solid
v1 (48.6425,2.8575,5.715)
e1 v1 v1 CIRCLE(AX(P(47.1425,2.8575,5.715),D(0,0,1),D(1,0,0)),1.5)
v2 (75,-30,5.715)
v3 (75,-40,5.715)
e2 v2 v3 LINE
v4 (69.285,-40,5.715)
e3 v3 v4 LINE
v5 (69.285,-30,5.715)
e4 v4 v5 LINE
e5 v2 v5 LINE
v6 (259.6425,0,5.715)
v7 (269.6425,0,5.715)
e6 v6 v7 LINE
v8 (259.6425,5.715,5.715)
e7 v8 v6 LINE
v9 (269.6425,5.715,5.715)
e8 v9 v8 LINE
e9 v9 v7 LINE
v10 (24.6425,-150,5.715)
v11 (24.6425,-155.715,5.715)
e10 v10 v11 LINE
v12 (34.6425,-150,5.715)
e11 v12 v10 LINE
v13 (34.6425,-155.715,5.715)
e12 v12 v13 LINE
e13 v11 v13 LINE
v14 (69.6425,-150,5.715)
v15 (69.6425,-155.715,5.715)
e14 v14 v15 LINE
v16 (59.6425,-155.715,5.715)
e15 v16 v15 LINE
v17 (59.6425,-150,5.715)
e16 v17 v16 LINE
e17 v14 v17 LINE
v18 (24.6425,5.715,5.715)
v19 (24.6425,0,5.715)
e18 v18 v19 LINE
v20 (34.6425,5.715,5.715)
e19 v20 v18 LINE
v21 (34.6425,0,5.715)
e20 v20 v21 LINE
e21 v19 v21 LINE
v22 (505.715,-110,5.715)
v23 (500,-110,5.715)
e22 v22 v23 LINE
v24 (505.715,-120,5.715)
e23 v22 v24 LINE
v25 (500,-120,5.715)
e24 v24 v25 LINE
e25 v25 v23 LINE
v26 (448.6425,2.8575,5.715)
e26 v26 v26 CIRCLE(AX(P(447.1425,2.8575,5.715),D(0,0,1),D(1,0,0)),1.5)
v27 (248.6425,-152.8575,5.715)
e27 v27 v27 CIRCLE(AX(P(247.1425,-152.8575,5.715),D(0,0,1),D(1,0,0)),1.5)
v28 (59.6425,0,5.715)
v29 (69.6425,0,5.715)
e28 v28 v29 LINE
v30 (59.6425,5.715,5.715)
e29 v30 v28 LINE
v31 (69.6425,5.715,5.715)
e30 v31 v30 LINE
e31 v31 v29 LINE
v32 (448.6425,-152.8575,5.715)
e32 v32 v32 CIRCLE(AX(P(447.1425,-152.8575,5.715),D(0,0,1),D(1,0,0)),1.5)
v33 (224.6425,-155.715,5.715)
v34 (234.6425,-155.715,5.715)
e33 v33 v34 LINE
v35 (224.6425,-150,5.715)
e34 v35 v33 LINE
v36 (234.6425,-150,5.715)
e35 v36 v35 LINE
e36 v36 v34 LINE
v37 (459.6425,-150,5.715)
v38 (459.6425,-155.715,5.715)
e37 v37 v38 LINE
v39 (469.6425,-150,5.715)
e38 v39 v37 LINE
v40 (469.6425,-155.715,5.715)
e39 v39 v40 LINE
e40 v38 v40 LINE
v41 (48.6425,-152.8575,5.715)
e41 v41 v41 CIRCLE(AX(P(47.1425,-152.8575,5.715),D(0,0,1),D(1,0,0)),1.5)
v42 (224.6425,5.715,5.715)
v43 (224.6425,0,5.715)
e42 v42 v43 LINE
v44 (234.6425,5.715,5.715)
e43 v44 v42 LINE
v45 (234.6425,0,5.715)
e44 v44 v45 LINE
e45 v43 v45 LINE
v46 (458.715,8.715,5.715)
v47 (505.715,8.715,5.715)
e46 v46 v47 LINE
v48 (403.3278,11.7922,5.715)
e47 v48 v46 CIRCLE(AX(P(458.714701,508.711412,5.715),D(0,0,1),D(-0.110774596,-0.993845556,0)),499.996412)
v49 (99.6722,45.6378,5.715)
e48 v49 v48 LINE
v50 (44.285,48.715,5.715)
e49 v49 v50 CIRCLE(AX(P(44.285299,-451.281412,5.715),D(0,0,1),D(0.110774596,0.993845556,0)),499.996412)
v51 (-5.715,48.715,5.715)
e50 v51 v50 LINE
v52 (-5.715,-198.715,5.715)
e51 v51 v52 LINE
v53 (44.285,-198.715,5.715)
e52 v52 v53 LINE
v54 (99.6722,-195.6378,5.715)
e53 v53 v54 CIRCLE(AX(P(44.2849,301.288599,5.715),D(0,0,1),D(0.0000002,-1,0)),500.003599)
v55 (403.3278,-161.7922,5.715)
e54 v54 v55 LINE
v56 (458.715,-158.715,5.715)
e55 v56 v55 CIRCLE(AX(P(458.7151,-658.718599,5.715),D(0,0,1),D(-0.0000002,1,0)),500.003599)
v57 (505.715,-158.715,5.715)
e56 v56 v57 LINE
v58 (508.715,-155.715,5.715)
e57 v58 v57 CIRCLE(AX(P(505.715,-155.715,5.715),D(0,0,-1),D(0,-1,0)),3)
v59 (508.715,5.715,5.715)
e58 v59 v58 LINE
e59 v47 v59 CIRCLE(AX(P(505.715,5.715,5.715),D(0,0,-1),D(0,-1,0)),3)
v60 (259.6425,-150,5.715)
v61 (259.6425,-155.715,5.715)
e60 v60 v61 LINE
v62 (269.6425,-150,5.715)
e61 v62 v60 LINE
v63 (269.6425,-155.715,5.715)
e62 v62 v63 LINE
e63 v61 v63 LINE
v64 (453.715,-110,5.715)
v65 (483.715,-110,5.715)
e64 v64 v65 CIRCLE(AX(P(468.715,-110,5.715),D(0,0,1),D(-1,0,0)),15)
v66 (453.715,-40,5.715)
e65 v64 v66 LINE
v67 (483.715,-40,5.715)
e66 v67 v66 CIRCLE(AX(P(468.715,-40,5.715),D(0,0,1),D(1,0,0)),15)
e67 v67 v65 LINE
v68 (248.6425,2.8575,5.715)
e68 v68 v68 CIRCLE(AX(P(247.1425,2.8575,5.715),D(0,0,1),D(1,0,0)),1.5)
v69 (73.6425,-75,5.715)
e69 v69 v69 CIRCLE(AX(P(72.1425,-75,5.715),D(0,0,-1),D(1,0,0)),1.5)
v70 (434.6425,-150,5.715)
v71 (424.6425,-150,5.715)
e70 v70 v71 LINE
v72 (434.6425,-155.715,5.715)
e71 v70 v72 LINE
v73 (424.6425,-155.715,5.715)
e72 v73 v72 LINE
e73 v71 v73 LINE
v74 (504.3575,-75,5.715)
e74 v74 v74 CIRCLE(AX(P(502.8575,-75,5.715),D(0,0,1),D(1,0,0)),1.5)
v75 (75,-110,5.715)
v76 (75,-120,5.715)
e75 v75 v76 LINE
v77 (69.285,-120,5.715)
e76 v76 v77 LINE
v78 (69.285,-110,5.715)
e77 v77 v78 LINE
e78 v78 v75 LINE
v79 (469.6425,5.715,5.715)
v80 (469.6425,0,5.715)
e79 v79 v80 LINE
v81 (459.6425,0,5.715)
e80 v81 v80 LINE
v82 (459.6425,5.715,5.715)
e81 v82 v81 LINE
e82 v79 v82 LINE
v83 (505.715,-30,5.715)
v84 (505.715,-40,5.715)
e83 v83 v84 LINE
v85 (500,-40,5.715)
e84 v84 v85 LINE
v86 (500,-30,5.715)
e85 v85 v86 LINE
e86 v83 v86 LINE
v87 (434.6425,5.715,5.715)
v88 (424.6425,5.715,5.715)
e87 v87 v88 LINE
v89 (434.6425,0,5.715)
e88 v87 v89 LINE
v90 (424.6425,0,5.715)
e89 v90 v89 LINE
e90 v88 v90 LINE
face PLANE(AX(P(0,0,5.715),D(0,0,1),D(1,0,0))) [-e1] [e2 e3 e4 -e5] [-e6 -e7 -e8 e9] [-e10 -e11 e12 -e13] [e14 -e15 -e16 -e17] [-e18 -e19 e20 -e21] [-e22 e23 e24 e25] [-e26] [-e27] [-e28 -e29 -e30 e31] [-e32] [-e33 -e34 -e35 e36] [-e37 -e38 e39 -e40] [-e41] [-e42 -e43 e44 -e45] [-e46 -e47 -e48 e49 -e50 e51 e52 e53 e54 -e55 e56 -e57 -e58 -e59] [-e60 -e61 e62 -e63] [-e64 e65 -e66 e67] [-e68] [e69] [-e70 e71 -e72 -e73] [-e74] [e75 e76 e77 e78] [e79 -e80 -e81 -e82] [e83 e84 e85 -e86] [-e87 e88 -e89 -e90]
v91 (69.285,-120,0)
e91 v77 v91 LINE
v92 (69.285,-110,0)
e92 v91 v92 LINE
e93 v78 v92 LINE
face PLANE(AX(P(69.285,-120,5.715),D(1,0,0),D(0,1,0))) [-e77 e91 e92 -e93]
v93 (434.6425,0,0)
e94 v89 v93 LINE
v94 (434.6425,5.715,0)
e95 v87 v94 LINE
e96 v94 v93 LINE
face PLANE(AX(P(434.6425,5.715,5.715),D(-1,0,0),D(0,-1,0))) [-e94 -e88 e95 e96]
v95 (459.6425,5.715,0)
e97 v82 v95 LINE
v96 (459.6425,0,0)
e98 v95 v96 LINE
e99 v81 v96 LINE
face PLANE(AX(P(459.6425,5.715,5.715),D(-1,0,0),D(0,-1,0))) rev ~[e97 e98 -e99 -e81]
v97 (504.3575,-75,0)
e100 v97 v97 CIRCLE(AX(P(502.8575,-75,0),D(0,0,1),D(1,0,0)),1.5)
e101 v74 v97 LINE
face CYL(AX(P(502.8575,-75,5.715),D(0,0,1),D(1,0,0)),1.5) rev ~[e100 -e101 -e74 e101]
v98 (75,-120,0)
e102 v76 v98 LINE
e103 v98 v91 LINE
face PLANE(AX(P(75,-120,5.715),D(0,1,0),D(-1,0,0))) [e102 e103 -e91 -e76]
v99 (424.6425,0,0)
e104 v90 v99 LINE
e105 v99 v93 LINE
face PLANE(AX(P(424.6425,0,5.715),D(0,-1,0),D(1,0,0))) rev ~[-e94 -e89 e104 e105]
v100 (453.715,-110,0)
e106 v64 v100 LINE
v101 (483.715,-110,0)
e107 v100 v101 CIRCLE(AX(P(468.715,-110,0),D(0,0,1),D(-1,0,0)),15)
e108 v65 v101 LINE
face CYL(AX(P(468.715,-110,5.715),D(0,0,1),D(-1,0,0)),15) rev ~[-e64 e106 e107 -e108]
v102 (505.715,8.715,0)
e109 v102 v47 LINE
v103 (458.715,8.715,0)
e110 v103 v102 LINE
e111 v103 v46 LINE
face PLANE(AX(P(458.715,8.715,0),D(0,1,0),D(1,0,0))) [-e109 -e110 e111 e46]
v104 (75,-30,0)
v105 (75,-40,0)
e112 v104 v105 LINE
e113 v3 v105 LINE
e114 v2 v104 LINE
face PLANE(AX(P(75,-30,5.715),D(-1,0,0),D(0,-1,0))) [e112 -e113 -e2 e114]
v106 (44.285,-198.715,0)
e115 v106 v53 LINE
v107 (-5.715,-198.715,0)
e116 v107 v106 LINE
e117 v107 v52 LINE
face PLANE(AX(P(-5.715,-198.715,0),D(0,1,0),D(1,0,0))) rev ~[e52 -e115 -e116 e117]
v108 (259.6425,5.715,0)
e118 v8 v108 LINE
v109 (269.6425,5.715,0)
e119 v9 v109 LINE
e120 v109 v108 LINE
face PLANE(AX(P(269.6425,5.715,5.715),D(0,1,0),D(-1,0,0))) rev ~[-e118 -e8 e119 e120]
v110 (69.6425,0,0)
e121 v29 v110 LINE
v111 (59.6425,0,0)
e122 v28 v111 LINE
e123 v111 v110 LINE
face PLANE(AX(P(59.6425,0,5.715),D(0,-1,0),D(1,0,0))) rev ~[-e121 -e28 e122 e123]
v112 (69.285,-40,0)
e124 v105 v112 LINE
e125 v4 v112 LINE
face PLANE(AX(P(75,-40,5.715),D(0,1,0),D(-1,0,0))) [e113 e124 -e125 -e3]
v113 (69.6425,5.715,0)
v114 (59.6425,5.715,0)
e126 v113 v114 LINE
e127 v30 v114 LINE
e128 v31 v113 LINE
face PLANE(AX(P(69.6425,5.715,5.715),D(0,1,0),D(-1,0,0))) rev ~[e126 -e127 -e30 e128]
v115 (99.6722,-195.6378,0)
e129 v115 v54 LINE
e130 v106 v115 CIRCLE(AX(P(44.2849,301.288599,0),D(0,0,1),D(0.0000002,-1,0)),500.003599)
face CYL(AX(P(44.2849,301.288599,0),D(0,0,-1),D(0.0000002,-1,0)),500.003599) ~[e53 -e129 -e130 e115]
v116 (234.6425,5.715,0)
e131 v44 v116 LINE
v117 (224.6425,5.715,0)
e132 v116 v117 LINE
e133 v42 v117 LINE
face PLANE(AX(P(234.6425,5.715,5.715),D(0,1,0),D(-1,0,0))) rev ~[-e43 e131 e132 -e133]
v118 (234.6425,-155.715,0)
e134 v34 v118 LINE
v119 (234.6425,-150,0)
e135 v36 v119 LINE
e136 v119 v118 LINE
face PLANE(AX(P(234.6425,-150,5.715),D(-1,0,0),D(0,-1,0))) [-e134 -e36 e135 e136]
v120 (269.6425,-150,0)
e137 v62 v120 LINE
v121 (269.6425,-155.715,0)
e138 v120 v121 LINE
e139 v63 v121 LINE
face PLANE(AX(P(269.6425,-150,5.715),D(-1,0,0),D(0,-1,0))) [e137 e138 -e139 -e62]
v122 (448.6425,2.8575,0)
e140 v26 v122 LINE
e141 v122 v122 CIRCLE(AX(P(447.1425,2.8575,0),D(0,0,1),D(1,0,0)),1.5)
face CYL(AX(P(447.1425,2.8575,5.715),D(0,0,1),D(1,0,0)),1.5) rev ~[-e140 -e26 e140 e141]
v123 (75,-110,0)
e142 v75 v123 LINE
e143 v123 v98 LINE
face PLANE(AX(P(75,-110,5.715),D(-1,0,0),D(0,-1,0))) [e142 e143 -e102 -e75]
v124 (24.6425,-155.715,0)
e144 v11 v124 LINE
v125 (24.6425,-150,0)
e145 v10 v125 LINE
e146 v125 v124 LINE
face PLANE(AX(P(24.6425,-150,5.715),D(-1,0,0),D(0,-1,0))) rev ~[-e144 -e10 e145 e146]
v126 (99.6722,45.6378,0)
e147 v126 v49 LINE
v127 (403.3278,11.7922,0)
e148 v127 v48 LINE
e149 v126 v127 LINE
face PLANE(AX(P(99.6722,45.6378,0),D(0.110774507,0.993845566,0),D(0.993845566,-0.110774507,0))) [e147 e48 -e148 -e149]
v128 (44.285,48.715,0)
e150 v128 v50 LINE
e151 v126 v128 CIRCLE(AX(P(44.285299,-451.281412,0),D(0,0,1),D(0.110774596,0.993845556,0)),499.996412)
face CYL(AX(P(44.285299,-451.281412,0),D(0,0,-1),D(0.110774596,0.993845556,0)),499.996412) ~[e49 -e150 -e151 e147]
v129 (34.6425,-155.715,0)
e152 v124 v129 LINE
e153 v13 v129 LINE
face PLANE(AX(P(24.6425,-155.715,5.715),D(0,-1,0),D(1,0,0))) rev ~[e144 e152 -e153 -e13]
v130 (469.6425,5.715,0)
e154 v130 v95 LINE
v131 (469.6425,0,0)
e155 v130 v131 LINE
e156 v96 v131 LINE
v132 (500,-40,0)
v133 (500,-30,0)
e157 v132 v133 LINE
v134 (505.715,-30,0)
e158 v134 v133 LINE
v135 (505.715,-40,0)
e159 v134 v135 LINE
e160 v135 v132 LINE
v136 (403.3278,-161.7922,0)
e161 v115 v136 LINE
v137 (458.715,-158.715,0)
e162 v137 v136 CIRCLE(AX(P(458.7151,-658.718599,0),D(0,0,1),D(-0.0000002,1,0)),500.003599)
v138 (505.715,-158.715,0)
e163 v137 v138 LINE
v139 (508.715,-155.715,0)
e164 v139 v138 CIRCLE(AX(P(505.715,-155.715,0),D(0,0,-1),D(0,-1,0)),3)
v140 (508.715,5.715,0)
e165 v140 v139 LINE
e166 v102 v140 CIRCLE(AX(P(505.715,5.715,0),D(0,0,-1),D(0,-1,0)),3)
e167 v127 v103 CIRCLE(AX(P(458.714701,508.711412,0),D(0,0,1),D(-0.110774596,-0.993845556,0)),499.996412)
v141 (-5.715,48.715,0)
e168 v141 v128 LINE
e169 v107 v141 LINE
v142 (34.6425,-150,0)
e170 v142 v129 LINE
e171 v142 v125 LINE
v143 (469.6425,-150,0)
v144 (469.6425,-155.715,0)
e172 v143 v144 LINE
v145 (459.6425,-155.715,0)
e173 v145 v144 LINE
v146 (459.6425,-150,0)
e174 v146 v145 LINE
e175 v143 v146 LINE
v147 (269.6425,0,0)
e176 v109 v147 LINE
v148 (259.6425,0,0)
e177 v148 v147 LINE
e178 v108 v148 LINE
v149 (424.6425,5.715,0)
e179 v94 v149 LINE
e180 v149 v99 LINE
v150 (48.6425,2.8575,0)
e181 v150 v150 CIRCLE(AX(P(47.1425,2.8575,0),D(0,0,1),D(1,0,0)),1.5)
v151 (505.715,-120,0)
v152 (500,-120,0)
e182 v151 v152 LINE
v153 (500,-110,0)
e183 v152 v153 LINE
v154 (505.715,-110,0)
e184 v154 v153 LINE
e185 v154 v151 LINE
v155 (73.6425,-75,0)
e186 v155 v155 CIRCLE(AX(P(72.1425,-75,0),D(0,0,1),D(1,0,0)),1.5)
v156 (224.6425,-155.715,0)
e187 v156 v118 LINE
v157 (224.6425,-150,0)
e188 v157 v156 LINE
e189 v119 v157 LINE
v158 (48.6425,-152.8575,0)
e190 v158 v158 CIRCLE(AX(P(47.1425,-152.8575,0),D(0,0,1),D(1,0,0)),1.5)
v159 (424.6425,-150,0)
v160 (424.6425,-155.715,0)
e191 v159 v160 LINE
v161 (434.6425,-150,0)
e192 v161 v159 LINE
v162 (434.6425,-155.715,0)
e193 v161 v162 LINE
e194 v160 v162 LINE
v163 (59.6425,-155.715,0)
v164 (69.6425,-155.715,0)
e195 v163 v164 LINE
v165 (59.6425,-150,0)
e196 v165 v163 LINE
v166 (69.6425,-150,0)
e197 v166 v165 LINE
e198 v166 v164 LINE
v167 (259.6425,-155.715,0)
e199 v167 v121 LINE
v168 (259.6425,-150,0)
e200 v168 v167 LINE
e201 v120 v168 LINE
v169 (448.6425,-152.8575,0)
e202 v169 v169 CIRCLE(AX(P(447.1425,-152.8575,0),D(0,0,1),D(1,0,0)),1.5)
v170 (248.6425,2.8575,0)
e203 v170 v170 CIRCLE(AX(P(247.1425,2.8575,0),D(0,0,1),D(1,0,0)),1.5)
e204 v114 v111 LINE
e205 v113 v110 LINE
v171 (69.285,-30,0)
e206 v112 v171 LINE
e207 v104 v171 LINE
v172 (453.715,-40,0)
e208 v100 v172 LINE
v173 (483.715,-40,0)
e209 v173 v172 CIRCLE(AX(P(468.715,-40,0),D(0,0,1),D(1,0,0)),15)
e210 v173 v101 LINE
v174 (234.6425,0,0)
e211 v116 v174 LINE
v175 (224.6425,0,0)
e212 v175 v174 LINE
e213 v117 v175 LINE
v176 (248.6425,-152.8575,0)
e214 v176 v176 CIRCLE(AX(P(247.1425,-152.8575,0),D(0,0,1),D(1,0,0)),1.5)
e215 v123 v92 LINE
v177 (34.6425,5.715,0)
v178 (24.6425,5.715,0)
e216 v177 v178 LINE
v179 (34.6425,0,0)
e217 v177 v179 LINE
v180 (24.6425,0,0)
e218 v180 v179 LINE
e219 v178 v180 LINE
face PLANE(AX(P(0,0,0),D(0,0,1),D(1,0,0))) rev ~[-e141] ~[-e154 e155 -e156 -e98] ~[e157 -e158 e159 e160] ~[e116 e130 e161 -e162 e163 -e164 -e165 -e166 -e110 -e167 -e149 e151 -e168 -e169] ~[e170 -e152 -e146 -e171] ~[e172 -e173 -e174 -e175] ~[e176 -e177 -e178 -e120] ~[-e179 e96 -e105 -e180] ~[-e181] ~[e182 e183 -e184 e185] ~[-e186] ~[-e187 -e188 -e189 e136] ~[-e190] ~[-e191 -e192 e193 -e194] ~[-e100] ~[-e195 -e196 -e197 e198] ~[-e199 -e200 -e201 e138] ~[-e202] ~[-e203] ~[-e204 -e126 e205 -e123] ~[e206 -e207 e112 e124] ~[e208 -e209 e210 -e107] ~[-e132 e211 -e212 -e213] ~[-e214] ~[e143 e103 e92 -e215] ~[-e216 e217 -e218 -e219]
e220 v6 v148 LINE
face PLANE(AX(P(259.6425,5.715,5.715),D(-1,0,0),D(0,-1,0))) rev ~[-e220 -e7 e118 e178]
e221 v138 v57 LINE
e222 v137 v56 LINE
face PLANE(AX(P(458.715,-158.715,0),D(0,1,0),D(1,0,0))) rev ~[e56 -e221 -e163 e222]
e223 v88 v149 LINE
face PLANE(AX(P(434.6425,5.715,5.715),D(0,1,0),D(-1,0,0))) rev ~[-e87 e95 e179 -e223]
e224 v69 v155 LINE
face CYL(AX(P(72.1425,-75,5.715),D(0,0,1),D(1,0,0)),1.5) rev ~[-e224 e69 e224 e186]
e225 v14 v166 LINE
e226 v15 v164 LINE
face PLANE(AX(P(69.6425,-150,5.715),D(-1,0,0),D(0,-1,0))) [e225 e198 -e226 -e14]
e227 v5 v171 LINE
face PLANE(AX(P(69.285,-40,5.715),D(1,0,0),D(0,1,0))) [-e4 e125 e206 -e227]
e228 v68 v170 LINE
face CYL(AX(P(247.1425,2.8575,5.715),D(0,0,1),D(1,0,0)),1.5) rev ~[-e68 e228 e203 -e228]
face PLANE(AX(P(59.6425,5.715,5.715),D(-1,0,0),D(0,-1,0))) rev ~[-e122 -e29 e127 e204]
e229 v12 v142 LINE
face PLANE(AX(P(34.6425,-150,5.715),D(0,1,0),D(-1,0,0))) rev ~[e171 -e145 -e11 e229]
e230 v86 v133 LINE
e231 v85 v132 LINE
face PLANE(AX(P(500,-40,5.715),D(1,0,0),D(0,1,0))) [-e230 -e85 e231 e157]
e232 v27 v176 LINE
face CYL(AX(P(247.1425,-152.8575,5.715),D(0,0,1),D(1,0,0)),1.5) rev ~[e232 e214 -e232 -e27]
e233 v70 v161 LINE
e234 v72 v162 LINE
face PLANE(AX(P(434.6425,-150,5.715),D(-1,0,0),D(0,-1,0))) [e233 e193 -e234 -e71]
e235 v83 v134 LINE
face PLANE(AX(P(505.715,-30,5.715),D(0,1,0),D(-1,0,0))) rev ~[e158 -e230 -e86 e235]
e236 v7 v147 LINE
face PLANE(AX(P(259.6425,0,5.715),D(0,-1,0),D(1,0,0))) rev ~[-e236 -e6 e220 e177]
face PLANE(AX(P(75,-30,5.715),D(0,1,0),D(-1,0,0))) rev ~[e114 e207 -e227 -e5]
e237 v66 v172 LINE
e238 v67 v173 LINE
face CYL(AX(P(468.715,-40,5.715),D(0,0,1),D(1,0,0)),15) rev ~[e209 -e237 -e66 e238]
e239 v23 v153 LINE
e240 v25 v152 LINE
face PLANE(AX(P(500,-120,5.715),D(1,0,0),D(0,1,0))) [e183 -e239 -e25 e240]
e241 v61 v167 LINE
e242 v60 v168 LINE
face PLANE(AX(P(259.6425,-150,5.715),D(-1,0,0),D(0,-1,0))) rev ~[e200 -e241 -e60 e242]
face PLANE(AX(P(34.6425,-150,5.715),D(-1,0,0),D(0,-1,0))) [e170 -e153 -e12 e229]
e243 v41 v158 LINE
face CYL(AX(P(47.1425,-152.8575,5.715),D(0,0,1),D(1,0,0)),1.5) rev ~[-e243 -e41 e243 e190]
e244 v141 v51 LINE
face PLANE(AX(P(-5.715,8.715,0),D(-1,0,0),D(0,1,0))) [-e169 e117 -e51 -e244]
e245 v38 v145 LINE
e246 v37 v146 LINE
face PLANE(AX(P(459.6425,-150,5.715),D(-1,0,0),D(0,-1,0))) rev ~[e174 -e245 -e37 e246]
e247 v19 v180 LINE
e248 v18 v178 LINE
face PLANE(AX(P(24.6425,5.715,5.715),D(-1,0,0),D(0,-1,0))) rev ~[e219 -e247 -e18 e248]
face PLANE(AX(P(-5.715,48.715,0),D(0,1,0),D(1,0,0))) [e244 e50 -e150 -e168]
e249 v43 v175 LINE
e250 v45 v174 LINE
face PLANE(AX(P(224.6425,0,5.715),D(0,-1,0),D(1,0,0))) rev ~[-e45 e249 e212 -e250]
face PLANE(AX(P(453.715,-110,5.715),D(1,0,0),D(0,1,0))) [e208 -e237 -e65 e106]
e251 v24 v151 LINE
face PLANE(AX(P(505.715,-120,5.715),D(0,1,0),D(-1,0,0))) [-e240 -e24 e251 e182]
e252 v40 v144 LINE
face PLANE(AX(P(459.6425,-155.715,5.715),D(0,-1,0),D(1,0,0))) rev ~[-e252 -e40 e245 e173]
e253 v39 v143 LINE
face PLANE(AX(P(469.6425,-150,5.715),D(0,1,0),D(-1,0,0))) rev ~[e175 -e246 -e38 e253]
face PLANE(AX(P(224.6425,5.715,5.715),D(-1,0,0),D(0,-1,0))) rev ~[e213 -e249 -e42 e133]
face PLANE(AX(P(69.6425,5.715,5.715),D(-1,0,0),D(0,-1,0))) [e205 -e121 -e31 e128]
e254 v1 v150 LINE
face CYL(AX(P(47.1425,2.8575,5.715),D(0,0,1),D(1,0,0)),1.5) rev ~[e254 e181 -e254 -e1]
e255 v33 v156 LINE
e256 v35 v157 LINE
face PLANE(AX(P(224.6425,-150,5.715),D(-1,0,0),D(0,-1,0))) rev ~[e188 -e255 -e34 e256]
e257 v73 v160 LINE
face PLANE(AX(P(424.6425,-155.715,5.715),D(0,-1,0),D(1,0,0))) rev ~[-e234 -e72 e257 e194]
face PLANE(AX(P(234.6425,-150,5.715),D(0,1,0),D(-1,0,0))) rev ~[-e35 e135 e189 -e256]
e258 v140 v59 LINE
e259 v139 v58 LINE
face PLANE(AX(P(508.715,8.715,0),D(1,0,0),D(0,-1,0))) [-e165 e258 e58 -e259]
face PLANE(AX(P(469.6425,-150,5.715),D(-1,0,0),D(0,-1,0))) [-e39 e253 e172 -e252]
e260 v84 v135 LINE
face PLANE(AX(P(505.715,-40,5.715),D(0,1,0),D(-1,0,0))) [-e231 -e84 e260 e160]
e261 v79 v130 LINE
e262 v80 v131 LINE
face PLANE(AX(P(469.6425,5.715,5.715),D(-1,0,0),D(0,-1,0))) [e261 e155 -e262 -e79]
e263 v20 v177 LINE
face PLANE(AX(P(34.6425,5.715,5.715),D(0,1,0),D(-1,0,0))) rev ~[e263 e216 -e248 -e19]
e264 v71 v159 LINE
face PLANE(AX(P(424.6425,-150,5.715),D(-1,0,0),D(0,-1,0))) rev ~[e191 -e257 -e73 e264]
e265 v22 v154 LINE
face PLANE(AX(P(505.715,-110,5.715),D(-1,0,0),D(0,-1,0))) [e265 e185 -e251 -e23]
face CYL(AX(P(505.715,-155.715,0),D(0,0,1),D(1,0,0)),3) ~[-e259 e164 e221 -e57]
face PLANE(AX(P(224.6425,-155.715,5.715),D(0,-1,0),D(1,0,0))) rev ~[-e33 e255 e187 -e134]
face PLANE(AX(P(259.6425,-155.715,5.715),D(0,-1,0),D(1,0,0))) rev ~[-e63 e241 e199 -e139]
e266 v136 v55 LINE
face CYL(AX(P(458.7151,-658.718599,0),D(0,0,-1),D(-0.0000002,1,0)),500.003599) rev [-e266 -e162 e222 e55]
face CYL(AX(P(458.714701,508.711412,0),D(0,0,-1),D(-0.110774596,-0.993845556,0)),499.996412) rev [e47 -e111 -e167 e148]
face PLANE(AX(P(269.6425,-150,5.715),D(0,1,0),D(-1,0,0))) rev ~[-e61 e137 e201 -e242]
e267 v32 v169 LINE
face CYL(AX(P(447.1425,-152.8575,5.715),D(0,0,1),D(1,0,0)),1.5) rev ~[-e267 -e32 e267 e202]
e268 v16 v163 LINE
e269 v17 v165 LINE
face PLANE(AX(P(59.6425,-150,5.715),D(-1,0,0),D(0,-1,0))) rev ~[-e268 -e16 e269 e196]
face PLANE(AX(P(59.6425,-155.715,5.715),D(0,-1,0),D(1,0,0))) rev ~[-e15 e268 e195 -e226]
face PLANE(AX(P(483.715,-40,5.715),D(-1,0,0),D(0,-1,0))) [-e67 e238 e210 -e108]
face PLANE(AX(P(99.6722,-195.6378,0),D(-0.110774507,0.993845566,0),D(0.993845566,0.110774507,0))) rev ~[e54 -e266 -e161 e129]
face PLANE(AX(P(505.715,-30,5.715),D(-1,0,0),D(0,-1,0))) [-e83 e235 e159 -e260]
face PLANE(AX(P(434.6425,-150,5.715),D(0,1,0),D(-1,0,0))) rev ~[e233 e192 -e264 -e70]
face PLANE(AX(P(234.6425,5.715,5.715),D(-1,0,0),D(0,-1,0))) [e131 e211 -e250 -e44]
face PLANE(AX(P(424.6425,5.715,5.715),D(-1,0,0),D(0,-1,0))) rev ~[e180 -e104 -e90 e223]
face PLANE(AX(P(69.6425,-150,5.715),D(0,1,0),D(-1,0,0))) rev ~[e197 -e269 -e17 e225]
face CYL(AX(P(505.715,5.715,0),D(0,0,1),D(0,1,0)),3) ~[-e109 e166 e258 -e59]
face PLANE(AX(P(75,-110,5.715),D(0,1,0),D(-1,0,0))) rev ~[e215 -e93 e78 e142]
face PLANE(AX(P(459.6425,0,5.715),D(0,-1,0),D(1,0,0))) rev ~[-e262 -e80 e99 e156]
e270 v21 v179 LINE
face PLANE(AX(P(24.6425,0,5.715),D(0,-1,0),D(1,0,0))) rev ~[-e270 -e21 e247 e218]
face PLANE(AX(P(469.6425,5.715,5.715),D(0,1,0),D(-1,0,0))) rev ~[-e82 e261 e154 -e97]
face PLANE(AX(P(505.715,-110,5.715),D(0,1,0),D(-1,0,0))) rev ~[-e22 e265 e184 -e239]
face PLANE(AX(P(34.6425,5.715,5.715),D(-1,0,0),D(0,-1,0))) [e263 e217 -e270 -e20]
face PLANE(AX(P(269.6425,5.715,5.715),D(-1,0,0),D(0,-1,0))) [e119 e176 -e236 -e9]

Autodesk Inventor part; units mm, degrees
ref_plane "YZ Plane" through (0, 0, 0) normal (1, 0, 0) x (0, 1, 0)
ref_plane "XZ Plane" through (0, 0, 0) normal (0, 1, 0) x (-1, 0, 0)
ref_plane "XY Plane" through (0, 0, 0) normal (0, 0, 1) x (1, 0, 0)
sketch "Sketch1" plane through (0, 0, 0) normal (0, 0, 1) x (1, 0, 0)
  line L0 (508.715, -158.715) -> (-5.715, -158.715) construction
  line L1 (-5.715, -158.715) -> (-5.715, 8.715)
  line L2 (-5.715, 8.715) -> (508.715, 8.715) construction
  line L3 (508.715, 8.715) -> (508.715, -158.715)
  line L4 (-5.715, 8.715) -> (-5.715, 48.715)
  line L5 (-5.715, 48.715) -> (44.285, 48.715)
  arc A0 (99.6722, 45.6378) -> (44.285, 48.715) centre (44.285, -451.285) ccw
  line L6 (99.6722, 45.6378) -> (403.3278, 11.7922)
  arc A1 (403.3278, 11.7922) -> (458.715, 8.715) centre (458.715, 508.715) ccw
  line L7 (458.715, 8.715) -> (508.715, 8.715)
  line L8 (-5.715, -158.715) -> (-5.715, -198.715)
  line L9 (-5.715, -198.715) -> (44.285, -198.715)
  arc A2 (44.285, -198.715) -> (99.6722, -195.6378) centre (44.285, 301.285) ccw
  line L10 (99.6722, -195.6378) -> (403.3278, -161.7922)
  arc A3 (458.715, -158.715) -> (403.3278, -161.7922) centre (458.715, -658.715) ccw
  line L11 (458.715, -158.715) -> (508.715, -158.715)
  point P0 (0, 0)
  point P1 (0, 5.715)
  point P2 (505.715, -158.715)
  point P3 (505.715, 8.715)
  point P4 (-5.715, 5.715)
  dimension "d0" = 3
  dimension "d2" = 500
  dimension "d3" = 50
  dimension "d4" = 40
extrude "Extrusion1" add sketch "Sketch1" along normal blind 5.715
fillet "Fillet1" radius 3 2 edges at (508.715, 8.715, 2.8575) (508.715, -158.715, 2.8575)
sketch "Sketch2" plane through (0, 0, 5.715) normal (0, 0, 1) x (1, 0, 0)
  line L0 (24.6425, 0) -> (34.6425, 0) projected
  line L1 (34.6425, 5.715) -> (34.6425, 0) projected
  line L2 (34.6425, 5.715) -> (24.6425, 5.715) projected
  line L3 (24.6425, 5.715) -> (24.6425, 0) projected
  line L4 (59.6425, 0) -> (69.6425, 0) projected
  line L5 (69.6425, 5.715) -> (69.6425, 0) projected
  line L6 (69.6425, 5.715) -> (59.6425, 5.715) projected
  line L7 (59.6425, 5.715) -> (59.6425, 0) projected
  line L8 (224.6425, 0) -> (234.6425, 0) projected
  line L9 (234.6425, 5.715) -> (234.6425, 0) projected
  line L10 (234.6425, 5.715) -> (224.6425, 5.715) projected
  line L11 (224.6425, 5.715) -> (224.6425, 0) projected
  line L12 (259.6425, 0) -> (269.6425, 0) projected
  line L13 (269.6425, 5.715) -> (269.6425, 0) projected
  line L14 (269.6425, 5.715) -> (259.6425, 5.715) projected
  line L15 (259.6425, 5.715) -> (259.6425, 0) projected
  line L16 (424.6425, 0) -> (434.6425, 0) projected
  line L17 (434.6425, 5.715) -> (434.6425, 0) projected
  line L18 (434.6425, 5.715) -> (424.6425, 5.715) projected
  line L19 (424.6425, 5.715) -> (424.6425, 0) projected
  line L20 (459.6425, 0) -> (469.6425, 0) projected
  line L21 (469.6425, 5.715) -> (469.6425, 0) projected
  line L22 (469.6425, 5.715) -> (459.6425, 5.715) projected
  line L23 (459.6425, 5.715) -> (459.6425, 0) projected
  line L24 (500, -40) -> (500, -30) projected
  line L25 (505.715, -40) -> (500, -40) projected
  line L26 (505.715, -30) -> (505.715, -40) projected
  line L27 (505.715, -30) -> (500, -30) projected
  line L28 (500, -120) -> (500, -110) projected
  line L29 (505.715, -120) -> (500, -120) projected
  line L30 (505.715, -110) -> (505.715, -120) projected
  line L31 (505.715, -110) -> (500, -110) projected
  line L32 (459.6425, -155.715) -> (469.6425, -155.715) projected
  line L33 (469.6425, -150) -> (469.6425, -155.715) projected
  line L34 (469.6425, -150) -> (459.6425, -150) projected
  line L35 (459.6425, -150) -> (459.6425, -155.715) projected
  line L36 (424.6425, -155.715) -> (434.6425, -155.715) projected
  line L37 (434.6425, -150) -> (434.6425, -155.715) projected
  line L38 (434.6425, -150) -> (424.6425, -150) projected
  line L39 (424.6425, -150) -> (424.6425, -155.715) projected
  line L40 (259.6425, -155.715) -> (269.6425, -155.715) projected
  line L41 (269.6425, -150) -> (269.6425, -155.715) projected
  line L42 (269.6425, -150) -> (259.6425, -150) projected
  line L43 (259.6425, -150) -> (259.6425, -155.715) projected
  line L44 (224.6425, -155.715) -> (234.6425, -155.715) projected
  line L45 (234.6425, -150) -> (234.6425, -155.715) projected
  line L46 (234.6425, -150) -> (224.6425, -150) projected
  line L47 (224.6425, -150) -> (224.6425, -155.715) projected
  line L48 (59.6425, -155.715) -> (69.6425, -155.715) projected
  line L49 (69.6425, -150) -> (69.6425, -155.715) projected
  line L50 (69.6425, -150) -> (59.6425, -150) projected
  line L51 (59.6425, -150) -> (59.6425, -155.715) projected
  line L52 (24.6425, -155.715) -> (34.6425, -155.715) projected
  line L53 (34.6425, -150) -> (34.6425, -155.715) projected
  line L54 (34.6425, -150) -> (24.6425, -150) projected
  line L55 (24.6425, -150) -> (24.6425, -155.715) projected
  line L56 (34.6425, 2.8575) -> (59.6425, 2.8575) construction
  circle A0 centre (47.1425, 2.8575) radius 1.5
  line L57 (234.6425, 2.8575) -> (259.6425, 2.8575) construction
  circle A1 centre (247.1425, 2.8575) radius 1.5
  line L58 (434.6425, 2.8575) -> (459.6425, 2.8575) construction
  circle A2 centre (447.1425, 2.8575) radius 1.5
  line L59 (502.8575, -40) -> (502.8575, -110) construction
  circle A3 centre (502.8575, -75) radius 1.5
  line L60 (434.6425, -152.8575) -> (459.6425, -152.8575) construction
  circle A4 centre (447.1425, -152.8575) radius 1.5
  line L61 (234.6425, -152.8575) -> (259.6425, -152.8575) construction
  circle A5 centre (247.1425, -152.8575) radius 1.5
  line L62 (34.6425, -152.8575) -> (59.6425, -152.8575) construction
  circle A6 centre (47.1425, -152.8575) radius 1.5
  point P0 (0, 0)
  dimension "d8" = 3
  dimension "d10" = 3
  dimension "d11" = 3
  dimension "d12" = 3
  dimension "d13" = 3
  dimension "d14" = 3
  dimension "d15" = 3
extrude "Extrusion2" cut sketch "Sketch2" against normal through all
sketch "Sketch3" plane through (0, 0, 5.715) normal (0, 0, 1) x (1, 0, 0)
  line L0 (75, -30) -> (75, -40) projected
  line L1 (75, -30) -> (69.285, -30) projected
  line L2 (69.285, -40) -> (69.285, -30) projected
  line L3 (75, -40) -> (69.285, -40) projected
  line L4 (75, -110) -> (75, -120) projected
  line L5 (75, -110) -> (69.285, -110) projected
  line L6 (69.285, -120) -> (69.285, -110) projected
  line L7 (75, -120) -> (69.285, -120) projected
  line L8 (72.1425, -40) -> (72.1425, -110)
  circle A0 centre (72.1425, -75) radius 1.5
  point P0 (0, 0)
  dimension "d18" = 3
extrude "Extrusion3" cut sketch "Sketch3" against normal through all
sketch "Sketch4" plane through (0, 0, 5.715) normal (0, 0, 1) x (1, 0, 0)
  circle A0 centre (502.8575, -75) radius 1.5 projected
  line L0 (508.715, -155.715) -> (508.715, 5.715) projected
  line L1 (458.715, -158.715) -> (505.715, -158.715) projected
  line L2 (453.715, -110) -> (453.715, -40)
  arc A1 (483.715, -40) -> (453.715, -40) centre (468.715, -40) ccw
  line L3 (483.715, -40) -> (483.715, -110)
  arc A2 (453.715, -110) -> (483.715, -110) centre (468.715, -110) ccw
  point P0 (0, 0)
  point P1 (483.715, -75)
  dimension "d22" = 70
  dimension "d25" = 15
  dimension "d26" = 25
extrude "Extrusion4" cut sketch "Sketch4" against normal through all contours L2 A1 L3 A2
properties part number "SIDE PLATE"
